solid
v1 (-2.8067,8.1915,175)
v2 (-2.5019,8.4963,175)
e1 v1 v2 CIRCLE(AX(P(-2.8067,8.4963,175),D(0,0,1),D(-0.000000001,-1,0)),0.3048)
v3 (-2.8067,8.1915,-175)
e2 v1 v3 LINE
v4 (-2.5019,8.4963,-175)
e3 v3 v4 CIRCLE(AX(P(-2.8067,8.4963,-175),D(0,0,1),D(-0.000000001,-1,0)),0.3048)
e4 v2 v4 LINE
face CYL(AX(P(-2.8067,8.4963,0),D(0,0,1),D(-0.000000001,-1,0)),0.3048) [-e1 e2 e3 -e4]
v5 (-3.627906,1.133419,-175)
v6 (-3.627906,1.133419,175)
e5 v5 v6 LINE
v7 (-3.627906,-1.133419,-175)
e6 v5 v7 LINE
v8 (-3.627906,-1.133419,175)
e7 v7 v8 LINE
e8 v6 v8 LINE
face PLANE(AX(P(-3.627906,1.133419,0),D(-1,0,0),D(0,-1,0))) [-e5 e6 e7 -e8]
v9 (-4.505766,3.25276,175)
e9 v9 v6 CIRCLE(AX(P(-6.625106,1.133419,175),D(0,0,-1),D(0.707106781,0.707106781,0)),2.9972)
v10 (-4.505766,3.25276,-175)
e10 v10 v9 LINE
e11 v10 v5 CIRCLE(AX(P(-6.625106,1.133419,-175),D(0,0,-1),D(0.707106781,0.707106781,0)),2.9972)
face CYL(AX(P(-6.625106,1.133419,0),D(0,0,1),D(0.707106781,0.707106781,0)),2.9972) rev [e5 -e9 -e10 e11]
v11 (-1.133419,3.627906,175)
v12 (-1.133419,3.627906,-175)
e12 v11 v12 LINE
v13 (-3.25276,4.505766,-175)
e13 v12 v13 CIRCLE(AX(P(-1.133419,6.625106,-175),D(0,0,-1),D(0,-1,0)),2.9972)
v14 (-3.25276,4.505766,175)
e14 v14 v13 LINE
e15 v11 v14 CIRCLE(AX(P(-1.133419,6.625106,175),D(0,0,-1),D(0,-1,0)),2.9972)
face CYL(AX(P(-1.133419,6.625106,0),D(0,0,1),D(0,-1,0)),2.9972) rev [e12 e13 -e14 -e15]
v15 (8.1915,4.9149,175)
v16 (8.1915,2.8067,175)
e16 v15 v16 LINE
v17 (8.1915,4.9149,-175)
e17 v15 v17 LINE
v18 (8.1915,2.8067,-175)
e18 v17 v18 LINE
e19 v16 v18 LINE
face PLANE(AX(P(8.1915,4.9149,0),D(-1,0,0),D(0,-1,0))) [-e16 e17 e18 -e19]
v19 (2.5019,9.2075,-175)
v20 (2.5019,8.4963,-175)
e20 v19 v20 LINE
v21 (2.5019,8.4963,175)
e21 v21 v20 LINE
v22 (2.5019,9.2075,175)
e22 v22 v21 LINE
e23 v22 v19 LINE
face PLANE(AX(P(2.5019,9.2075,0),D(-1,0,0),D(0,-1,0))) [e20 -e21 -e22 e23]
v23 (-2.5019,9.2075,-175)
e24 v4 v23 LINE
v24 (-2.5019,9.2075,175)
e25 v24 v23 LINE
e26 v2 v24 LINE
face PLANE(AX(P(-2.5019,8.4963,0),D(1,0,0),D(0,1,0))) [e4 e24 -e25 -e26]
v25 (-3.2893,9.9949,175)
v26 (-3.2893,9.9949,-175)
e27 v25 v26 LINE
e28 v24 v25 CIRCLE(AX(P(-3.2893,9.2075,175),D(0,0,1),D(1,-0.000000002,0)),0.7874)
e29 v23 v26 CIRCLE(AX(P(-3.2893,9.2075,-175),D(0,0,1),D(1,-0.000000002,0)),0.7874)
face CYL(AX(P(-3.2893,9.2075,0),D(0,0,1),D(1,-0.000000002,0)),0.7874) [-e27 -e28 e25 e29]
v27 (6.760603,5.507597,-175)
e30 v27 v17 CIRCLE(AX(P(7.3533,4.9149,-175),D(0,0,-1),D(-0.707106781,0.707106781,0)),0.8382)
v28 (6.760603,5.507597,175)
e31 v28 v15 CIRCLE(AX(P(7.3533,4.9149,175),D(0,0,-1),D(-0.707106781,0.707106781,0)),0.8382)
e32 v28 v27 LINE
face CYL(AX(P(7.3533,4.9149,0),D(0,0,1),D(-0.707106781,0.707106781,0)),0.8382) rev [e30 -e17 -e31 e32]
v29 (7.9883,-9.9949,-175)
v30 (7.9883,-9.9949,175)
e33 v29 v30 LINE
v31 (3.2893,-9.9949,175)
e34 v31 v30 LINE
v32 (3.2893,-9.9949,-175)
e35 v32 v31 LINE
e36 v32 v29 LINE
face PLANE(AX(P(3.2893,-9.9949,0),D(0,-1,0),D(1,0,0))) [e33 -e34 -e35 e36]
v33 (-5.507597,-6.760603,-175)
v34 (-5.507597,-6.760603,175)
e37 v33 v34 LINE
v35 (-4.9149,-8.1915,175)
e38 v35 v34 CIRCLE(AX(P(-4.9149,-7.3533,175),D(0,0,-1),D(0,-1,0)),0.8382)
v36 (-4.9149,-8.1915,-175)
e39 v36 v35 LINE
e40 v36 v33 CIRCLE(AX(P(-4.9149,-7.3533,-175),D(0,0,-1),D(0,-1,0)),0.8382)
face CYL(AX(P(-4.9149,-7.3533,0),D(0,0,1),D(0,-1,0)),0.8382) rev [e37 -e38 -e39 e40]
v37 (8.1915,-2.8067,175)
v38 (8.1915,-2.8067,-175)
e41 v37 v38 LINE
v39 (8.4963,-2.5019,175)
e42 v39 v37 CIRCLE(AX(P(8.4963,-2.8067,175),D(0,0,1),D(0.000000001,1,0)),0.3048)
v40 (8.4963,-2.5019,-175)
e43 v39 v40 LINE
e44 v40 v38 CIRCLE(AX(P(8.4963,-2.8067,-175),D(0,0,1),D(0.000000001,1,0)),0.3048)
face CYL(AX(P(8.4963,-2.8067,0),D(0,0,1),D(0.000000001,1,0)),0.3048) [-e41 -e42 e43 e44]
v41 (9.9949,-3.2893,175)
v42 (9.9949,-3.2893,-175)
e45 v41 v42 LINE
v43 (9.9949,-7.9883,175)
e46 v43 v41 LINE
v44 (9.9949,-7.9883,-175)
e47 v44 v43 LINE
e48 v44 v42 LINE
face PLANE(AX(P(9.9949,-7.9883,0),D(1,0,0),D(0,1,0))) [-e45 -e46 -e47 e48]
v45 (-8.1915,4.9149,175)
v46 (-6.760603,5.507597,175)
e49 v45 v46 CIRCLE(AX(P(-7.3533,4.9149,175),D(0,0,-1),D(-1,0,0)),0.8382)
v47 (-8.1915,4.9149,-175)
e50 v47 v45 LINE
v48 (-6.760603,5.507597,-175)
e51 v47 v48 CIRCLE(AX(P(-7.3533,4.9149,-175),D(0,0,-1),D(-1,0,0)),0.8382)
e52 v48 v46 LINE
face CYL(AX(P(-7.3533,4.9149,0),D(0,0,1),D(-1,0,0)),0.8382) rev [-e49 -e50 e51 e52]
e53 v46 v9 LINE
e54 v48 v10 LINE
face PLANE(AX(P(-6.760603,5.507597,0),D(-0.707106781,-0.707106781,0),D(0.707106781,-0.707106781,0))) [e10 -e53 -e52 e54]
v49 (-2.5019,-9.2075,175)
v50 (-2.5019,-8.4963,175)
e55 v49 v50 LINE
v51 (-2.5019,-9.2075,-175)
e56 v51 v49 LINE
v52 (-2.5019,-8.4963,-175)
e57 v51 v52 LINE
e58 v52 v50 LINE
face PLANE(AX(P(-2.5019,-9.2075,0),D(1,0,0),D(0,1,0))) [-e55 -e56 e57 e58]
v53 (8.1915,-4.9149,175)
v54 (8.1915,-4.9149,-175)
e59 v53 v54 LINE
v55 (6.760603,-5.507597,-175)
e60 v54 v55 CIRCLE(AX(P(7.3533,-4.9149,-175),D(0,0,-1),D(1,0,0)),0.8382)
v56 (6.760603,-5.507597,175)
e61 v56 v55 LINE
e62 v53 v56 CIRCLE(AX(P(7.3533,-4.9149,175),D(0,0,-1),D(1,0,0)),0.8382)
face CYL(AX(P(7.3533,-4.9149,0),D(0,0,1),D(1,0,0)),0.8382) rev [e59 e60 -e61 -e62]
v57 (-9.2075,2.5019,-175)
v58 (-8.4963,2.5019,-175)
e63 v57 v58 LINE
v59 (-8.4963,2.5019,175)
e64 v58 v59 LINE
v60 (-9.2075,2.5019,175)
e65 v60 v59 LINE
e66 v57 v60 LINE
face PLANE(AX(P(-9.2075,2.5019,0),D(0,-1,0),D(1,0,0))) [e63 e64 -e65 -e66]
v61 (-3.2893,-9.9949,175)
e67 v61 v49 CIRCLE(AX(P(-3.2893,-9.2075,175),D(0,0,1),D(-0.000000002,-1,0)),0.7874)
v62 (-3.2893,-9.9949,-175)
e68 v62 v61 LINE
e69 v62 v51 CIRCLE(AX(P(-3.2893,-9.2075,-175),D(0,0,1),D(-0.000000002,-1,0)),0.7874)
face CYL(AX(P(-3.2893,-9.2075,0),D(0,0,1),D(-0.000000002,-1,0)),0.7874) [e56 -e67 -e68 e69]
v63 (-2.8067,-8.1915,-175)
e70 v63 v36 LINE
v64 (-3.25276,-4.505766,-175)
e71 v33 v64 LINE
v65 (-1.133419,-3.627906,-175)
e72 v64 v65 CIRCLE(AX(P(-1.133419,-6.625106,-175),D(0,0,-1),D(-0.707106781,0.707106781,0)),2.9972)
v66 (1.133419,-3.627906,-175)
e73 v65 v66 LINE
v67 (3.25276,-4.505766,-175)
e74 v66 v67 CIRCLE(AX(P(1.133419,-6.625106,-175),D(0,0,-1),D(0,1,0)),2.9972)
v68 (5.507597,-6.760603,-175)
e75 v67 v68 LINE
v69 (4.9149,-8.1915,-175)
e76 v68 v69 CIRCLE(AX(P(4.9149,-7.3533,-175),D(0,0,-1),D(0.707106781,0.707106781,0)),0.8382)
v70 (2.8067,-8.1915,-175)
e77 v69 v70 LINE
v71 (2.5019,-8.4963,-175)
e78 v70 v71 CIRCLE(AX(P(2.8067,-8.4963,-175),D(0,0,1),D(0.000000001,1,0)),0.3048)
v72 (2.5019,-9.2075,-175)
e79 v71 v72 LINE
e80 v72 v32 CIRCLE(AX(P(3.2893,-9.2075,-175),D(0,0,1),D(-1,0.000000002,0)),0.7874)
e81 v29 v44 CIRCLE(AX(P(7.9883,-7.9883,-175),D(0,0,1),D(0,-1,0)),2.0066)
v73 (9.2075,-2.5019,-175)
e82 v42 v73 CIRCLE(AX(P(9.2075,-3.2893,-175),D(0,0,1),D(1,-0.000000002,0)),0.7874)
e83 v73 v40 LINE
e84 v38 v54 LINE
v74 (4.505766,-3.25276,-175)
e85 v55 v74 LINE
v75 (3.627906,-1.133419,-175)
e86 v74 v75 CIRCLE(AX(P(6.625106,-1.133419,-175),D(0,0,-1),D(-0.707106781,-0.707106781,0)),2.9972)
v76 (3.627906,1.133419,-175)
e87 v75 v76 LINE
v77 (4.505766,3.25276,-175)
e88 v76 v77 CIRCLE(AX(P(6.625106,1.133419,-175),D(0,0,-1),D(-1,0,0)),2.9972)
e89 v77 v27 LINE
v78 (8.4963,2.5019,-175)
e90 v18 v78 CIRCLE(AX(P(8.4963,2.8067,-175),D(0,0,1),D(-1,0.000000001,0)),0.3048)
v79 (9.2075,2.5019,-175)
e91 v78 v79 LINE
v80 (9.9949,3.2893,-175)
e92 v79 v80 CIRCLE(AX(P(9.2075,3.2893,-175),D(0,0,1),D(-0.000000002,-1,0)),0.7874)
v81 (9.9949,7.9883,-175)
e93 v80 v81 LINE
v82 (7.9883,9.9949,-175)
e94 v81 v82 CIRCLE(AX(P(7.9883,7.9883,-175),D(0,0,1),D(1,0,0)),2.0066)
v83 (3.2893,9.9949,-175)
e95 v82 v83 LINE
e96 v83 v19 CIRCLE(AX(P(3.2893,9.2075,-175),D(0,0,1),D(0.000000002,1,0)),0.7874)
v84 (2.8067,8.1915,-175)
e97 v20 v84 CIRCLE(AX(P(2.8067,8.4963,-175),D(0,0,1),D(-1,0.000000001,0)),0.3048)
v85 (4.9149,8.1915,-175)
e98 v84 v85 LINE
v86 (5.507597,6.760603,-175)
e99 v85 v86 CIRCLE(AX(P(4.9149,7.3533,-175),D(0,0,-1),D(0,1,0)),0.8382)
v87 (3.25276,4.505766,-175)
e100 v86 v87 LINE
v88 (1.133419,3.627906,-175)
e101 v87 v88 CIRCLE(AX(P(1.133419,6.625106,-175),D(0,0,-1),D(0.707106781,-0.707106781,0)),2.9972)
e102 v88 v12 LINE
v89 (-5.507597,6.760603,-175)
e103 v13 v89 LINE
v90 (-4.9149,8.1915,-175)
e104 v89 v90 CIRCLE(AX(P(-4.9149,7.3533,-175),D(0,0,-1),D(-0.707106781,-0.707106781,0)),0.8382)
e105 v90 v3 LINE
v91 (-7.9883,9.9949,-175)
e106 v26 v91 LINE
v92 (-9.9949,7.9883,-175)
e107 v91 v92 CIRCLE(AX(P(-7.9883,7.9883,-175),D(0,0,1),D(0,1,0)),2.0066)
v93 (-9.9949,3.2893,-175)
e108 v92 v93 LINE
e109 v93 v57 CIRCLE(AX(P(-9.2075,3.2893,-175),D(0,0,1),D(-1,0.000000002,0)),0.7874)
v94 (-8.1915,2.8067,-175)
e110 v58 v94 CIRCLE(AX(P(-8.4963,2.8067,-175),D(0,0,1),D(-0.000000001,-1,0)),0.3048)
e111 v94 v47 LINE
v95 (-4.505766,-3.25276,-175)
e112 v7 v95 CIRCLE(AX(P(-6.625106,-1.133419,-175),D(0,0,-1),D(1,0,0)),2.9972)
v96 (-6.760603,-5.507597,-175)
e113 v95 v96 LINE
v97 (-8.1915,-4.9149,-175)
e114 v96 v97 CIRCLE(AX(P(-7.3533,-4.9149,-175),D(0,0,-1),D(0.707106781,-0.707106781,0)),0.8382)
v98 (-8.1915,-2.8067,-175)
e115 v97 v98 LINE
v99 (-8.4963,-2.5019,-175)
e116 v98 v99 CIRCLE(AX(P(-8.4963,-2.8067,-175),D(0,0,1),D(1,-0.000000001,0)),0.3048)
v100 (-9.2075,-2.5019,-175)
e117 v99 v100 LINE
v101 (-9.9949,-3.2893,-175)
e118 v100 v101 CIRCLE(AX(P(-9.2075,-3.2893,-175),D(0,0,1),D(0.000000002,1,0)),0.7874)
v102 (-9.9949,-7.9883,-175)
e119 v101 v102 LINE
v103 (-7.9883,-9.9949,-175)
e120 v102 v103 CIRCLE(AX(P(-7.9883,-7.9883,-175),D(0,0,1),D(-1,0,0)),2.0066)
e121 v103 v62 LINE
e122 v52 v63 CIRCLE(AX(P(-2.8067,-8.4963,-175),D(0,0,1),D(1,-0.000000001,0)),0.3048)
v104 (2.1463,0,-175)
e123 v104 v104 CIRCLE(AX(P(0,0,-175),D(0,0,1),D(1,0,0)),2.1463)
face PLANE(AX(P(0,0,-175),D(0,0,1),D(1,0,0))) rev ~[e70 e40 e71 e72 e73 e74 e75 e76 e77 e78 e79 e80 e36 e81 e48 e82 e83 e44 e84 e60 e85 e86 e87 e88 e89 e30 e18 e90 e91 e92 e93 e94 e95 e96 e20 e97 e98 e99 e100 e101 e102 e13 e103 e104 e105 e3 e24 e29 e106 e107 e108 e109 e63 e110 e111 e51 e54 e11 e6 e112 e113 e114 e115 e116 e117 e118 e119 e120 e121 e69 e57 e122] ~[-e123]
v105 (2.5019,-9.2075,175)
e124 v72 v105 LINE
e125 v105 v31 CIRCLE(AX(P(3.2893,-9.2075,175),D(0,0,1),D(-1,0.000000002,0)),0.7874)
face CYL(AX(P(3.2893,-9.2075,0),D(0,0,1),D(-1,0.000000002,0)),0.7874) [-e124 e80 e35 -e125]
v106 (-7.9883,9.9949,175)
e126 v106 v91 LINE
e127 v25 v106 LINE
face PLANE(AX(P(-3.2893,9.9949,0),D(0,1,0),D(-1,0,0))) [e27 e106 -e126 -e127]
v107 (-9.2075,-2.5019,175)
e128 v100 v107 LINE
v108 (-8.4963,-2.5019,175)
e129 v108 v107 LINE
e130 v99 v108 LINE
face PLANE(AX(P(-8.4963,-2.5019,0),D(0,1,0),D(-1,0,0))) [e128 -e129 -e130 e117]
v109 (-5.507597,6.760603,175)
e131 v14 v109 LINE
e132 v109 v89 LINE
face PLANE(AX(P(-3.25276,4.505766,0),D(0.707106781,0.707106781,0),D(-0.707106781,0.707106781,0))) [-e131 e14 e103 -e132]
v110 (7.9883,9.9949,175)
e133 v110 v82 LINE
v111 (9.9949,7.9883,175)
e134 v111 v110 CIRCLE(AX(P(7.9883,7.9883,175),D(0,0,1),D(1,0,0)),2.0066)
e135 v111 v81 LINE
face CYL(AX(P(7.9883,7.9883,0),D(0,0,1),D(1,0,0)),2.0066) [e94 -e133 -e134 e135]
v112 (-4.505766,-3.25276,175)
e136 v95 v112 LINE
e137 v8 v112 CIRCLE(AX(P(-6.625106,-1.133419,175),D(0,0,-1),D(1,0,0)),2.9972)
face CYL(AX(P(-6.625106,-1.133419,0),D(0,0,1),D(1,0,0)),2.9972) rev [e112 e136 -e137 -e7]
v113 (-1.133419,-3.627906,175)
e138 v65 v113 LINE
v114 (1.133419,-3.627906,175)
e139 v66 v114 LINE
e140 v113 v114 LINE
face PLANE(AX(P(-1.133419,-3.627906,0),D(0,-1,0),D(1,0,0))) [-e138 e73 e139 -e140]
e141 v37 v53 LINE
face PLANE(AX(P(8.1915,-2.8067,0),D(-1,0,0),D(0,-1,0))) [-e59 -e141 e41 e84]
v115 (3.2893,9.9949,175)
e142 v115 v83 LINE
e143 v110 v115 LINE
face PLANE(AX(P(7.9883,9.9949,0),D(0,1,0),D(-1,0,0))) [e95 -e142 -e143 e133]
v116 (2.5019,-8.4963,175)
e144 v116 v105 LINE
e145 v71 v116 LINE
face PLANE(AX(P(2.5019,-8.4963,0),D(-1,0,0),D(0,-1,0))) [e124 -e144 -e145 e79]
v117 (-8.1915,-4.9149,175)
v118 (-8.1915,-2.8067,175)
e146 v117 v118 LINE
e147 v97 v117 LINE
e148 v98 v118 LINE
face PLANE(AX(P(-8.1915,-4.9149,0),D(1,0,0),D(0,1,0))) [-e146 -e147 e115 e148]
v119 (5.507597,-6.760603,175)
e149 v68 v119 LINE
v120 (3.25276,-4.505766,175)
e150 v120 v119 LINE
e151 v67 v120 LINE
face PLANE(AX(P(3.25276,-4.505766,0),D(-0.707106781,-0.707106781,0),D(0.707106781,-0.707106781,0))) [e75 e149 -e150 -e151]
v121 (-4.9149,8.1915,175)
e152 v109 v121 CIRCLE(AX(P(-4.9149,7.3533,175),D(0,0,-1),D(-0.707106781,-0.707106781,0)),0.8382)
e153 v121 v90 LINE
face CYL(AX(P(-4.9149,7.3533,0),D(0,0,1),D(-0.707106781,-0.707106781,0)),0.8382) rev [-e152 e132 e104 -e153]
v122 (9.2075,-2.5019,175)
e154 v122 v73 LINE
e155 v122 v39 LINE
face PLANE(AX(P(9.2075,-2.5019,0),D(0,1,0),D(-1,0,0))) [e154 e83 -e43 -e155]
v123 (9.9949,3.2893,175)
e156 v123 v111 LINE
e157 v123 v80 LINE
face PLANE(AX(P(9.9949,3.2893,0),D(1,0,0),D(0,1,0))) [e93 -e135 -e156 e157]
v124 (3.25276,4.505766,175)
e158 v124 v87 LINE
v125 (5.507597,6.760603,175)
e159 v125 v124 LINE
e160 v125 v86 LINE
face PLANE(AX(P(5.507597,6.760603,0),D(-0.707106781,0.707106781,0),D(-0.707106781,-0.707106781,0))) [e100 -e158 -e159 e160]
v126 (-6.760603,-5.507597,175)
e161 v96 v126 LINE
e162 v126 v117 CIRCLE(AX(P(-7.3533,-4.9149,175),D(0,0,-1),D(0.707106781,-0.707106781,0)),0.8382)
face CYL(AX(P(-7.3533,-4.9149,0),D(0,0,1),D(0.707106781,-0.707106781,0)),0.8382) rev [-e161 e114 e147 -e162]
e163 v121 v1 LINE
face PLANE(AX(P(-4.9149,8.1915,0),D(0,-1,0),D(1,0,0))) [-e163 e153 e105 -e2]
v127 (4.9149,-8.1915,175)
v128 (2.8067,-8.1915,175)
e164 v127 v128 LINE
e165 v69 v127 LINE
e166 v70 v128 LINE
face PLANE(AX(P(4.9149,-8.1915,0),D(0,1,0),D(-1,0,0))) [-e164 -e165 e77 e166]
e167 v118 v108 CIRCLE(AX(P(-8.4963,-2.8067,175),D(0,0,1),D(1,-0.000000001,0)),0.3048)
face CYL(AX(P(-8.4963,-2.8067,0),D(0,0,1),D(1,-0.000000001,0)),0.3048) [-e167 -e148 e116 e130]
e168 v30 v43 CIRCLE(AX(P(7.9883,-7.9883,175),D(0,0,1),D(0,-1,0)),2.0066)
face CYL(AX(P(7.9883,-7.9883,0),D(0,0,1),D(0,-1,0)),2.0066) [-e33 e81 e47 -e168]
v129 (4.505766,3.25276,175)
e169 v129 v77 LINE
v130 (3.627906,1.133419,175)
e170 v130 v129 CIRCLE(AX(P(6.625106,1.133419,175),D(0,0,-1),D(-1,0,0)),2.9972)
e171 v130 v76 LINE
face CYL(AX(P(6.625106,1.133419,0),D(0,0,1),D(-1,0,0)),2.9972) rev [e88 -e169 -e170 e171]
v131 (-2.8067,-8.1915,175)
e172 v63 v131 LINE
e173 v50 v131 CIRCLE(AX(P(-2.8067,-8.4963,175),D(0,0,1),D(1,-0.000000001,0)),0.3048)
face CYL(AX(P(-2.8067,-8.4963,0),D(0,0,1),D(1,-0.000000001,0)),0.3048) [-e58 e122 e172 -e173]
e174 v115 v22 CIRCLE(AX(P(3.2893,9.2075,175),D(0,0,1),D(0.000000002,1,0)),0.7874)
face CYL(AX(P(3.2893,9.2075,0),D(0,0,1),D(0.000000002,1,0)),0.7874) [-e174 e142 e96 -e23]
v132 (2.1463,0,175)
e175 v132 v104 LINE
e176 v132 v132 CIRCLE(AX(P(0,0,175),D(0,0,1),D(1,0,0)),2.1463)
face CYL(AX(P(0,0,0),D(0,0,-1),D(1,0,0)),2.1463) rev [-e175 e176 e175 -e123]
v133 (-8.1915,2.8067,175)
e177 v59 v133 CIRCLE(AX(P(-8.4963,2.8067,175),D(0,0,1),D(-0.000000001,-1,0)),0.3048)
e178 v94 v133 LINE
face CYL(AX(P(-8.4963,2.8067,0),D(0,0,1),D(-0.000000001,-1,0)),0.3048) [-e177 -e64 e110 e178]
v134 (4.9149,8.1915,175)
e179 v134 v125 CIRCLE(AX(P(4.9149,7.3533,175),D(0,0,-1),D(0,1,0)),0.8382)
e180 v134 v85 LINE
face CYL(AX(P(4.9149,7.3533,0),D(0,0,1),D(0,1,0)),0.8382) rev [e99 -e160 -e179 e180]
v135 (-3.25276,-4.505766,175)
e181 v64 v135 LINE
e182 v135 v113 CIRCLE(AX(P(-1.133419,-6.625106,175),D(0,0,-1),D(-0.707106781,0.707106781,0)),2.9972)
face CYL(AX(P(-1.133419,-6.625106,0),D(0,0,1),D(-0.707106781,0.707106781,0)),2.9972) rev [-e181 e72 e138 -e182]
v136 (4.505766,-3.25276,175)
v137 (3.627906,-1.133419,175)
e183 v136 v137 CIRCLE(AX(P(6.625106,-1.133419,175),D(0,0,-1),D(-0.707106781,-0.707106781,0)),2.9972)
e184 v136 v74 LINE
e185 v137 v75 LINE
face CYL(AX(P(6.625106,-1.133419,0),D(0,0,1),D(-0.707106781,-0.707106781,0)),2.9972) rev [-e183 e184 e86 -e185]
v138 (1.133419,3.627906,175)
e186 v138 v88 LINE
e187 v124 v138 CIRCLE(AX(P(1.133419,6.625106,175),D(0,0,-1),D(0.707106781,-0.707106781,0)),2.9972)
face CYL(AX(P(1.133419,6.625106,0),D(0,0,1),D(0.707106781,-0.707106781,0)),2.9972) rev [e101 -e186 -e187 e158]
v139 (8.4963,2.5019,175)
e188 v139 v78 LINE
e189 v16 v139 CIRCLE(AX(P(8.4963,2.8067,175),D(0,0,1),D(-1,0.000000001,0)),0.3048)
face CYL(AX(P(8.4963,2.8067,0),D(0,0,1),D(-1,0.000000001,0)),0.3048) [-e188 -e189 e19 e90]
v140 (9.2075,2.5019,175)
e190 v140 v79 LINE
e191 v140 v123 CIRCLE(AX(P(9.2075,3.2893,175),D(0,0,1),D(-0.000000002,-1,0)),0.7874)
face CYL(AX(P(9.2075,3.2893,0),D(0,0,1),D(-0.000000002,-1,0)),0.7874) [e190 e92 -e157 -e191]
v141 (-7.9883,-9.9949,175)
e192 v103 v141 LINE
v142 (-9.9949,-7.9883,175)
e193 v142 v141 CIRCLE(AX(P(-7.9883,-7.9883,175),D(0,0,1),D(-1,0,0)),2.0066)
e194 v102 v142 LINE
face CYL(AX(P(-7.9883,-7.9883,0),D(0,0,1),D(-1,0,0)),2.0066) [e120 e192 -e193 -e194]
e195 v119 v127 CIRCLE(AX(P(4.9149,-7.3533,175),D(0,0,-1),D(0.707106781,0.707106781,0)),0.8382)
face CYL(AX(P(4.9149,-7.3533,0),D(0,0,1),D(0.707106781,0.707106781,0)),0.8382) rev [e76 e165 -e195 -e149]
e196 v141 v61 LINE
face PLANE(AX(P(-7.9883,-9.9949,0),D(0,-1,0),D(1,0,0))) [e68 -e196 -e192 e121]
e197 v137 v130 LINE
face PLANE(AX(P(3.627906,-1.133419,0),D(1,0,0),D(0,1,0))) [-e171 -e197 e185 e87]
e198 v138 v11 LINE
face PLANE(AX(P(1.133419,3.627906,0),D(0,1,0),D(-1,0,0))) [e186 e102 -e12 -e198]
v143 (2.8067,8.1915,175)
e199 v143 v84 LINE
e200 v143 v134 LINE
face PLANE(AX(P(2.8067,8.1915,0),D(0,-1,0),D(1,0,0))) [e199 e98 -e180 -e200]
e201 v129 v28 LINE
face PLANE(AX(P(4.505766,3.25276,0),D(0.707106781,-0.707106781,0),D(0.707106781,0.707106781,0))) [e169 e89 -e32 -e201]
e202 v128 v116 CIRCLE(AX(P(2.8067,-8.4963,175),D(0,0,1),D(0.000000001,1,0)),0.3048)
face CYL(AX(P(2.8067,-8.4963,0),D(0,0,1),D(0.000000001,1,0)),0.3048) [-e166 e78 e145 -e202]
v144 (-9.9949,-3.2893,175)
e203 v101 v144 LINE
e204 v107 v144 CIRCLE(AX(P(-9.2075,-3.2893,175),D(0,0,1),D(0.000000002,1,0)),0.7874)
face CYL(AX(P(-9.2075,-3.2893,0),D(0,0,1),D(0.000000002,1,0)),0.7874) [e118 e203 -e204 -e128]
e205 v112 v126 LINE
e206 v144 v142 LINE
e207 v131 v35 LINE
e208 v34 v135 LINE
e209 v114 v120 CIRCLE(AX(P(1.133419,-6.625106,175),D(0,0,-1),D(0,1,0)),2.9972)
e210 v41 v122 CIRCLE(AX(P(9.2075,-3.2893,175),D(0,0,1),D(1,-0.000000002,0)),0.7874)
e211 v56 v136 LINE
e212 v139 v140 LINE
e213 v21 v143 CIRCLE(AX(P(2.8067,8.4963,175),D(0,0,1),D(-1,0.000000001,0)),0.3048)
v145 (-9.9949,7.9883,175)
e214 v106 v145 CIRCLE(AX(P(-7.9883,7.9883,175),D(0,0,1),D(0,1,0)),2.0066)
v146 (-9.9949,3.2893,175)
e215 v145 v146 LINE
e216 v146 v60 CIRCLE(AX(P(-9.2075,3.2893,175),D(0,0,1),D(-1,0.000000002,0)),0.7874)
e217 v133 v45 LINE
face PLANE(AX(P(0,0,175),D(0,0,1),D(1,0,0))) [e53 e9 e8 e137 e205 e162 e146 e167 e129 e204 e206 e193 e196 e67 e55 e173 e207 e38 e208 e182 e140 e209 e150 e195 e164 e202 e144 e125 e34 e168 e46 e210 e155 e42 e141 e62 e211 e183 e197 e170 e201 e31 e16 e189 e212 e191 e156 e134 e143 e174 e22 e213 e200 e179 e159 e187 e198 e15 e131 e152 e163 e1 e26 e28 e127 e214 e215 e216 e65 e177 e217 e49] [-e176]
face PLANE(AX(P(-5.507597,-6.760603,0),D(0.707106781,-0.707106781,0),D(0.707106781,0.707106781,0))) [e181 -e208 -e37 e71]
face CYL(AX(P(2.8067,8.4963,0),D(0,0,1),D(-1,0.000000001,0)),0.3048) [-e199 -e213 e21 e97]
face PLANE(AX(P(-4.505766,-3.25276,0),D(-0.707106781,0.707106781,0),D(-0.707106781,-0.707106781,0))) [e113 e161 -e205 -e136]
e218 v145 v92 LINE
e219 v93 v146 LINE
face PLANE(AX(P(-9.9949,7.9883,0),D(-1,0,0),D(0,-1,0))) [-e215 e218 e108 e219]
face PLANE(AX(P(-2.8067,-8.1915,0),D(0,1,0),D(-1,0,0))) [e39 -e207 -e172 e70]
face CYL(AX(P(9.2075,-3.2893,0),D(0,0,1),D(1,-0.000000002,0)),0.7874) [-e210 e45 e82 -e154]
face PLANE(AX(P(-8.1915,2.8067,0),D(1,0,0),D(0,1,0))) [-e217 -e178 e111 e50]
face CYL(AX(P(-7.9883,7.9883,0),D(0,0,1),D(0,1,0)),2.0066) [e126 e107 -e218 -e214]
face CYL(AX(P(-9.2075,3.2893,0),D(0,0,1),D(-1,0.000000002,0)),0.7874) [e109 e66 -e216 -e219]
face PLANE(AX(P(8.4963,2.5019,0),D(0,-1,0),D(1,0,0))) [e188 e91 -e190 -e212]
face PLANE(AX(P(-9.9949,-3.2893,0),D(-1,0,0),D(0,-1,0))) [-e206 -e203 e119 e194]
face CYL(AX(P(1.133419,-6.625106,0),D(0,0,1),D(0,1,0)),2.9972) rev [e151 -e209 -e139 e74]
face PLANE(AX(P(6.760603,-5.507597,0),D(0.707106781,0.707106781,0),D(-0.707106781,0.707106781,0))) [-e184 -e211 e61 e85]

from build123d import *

# Parameters (mm, degrees)
SKETCH1_R           = 2.1463
BOSS_EXTRUDE1_DEPTH = 175


with BuildPart() as part:
    # Sketch1 → Boss-Extrude1 (new body, symmetric)
    with BuildSketch(Plane.XY):
        with BuildLine():
            Line((-9.9949, 7.9883), (-9.9949, 3.2893))
            ThreePointArc((-9.9949, 3.2893), (-9.76427588, 2.73252412), (-9.2075, 2.5019))
            Line((-9.2075, 2.5019), (-8.4963, 2.5019))
            ThreePointArc((-8.4963, 2.5019), (-8.280773853, 2.591173853), (-8.1915, 2.8067))
            Line((-8.1915, 2.8067), (-8.1915, 4.9149))
            ThreePointArc((-8.1915, 4.9149), (-7.674065253, 5.689295824), (-6.760603096, 5.507596904))
            Line((-6.760603096, 5.507596904), (-4.505765747, 3.252759555))
            ThreePointArc((-4.505765747, 3.252759555), (-3.856054457, 2.280397894), (-3.627906192, 1.133419111))
            Line((-3.627906192, 1.133419111), (-3.627906192, -1.133419111))
            ThreePointArc((-3.627906192, -1.133419111), (-3.856054457, -2.280397894), (-4.505765747, -3.252759555))
            Line((-4.505765747, -3.252759555), (-6.760603096, -5.507596904))
            ThreePointArc((-6.760603096, -5.507596904), (-7.674065253, -5.689295824), (-8.1915, -4.9149))
            Line((-8.1915, -4.9149), (-8.1915, -2.8067))
            ThreePointArc((-8.1915, -2.8067), (-8.280773853, -2.591173853), (-8.4963, -2.5019))
            Line((-8.4963, -2.5019), (-9.2075, -2.5019))
            ThreePointArc((-9.2075, -2.5019), (-9.76427588, -2.73252412), (-9.9949, -3.2893))
            Line((-9.9949, -3.2893), (-9.9949, -7.9883))
            ThreePointArc((-9.9949, -7.9883), (-9.407180467, -9.407180467), (-7.9883, -9.9949))
            Line((-7.9883, -9.9949), (-3.2893, -9.9949))
            ThreePointArc((-3.2893, -9.9949), (-2.73252412, -9.76427588), (-2.5019, -9.2075))
            Line((-2.5019, -9.2075), (-2.5019, -8.4963))
            ThreePointArc((-2.5019, -8.4963), (-2.591173853, -8.280773853), (-2.8067, -8.1915))
            Line((-2.8067, -8.1915), (-4.9149, -8.1915))
            ThreePointArc((-4.9149, -8.1915), (-5.689295824, -7.674065253), (-5.507596904, -6.760603096))
            Line((-5.507596904, -6.760603096), (-3.252759555, -4.505765747))
            ThreePointArc((-3.252759555, -4.505765747), (-2.280397894, -3.856054457), (-1.133419111, -3.627906192))
            Line((-1.133419111, -3.627906192), (1.133419111, -3.627906192))
            ThreePointArc((1.133419111, -3.627906192), (2.280397894, -3.856054457), (3.252759555, -4.505765747))
            Line((3.252759555, -4.505765747), (5.507596904, -6.760603096))
            ThreePointArc((5.507596904, -6.760603096), (5.689295824, -7.674065253), (4.9149, -8.1915))
            Line((4.9149, -8.1915), (2.8067, -8.1915))
            ThreePointArc((2.8067, -8.1915), (2.591173853, -8.280773853), (2.5019, -8.4963))
            Line((2.5019, -8.4963), (2.5019, -9.2075))
            ThreePointArc((2.5019, -9.2075), (2.73252412, -9.76427588), (3.2893, -9.9949))
            Line((3.2893, -9.9949), (7.9883, -9.9949))
            ThreePointArc((7.9883, -9.9949), (9.407180467, -9.407180467), (9.9949, -7.9883))
            Line((9.9949, -7.9883), (9.9949, -3.2893))
            ThreePointArc((9.9949, -3.2893), (9.76427588, -2.73252412), (9.2075, -2.5019))
            Line((9.2075, -2.5019), (8.4963, -2.5019))
            ThreePointArc((8.4963, -2.5019), (8.280773853, -2.591173853), (8.1915, -2.8067))
            Line((8.1915, -2.8067), (8.1915, -4.9149))
            ThreePointArc((8.1915, -4.9149), (7.674065253, -5.689295824), (6.760603096, -5.507596904))
            Line((6.760603096, -5.507596904), (4.505765747, -3.252759555))
            ThreePointArc((4.505765747, -3.252759555), (3.856054457, -2.280397894), (3.627906192, -1.133419111))
            Line((3.627906192, -1.133419111), (3.627906192, 1.133419111))
            ThreePointArc((3.627906192, 1.133419111), (3.856054457, 2.280397894), (4.505765747, 3.252759555))
            Line((4.505765747, 3.252759555), (6.760603096, 5.507596904))
            ThreePointArc((6.760603096, 5.507596904), (7.674065253, 5.689295824), (8.1915, 4.9149))
            Line((8.1915, 4.9149), (8.1915, 2.8067))
            ThreePointArc((8.1915, 2.8067), (8.280773853, 2.591173853), (8.4963, 2.5019))
            Line((8.4963, 2.5019), (9.2075, 2.5019))
            ThreePointArc((9.2075, 2.5019), (9.76427588, 2.73252412), (9.9949, 3.2893))
            Line((9.9949, 3.2893), (9.9949, 7.9883))
            ThreePointArc((9.9949, 7.9883), (9.407180467, 9.407180467), (7.9883, 9.9949))
            Line((7.9883, 9.9949), (3.2893, 9.9949))
            ThreePointArc((3.2893, 9.9949), (2.73252412, 9.76427588), (2.5019, 9.2075))
            Line((2.5019, 9.2075), (2.5019, 8.4963))
            ThreePointArc((2.5019, 8.4963), (2.591173853, 8.280773853), (2.8067, 8.1915))
            Line((2.8067, 8.1915), (4.9149, 8.1915))
            ThreePointArc((4.9149, 8.1915), (5.689295824, 7.674065253), (5.507596904, 6.760603096))
            Line((5.507596904, 6.760603096), (3.252759555, 4.505765747))
            ThreePointArc((3.252759555, 4.505765747), (2.280397894, 3.856054457), (1.133419111, 3.627906192))
            Line((1.133419111, 3.627906192), (-1.133419111, 3.627906192))
            ThreePointArc((-1.133419111, 3.627906192), (-2.280397894, 3.856054457), (-3.252759555, 4.505765747))
            Line((-3.252759555, 4.505765747), (-5.507596904, 6.760603096))
            ThreePointArc((-5.507596904, 6.760603096), (-5.689295824, 7.674065253), (-4.9149, 8.1915))
            Line((-4.9149, 8.1915), (-2.8067, 8.1915))
            ThreePointArc((-2.8067, 8.1915), (-2.591173853, 8.280773853), (-2.5019, 8.4963))
            Line((-2.5019, 8.4963), (-2.5019, 9.2075))
            ThreePointArc((-2.5019, 9.2075), (-2.73252412, 9.76427588), (-3.2893, 9.9949))
            Line((-3.2893, 9.9949), (-7.9883, 9.9949))
            ThreePointArc((-7.9883, 9.9949), (-9.407180467, 9.407180467), (-9.9949, 7.9883))
        make_face()
        Circle(SKETCH1_R, mode=Mode.SUBTRACT)
    extrude(amount=BOSS_EXTRUDE1_DEPTH, both=True)


solid = part.part
